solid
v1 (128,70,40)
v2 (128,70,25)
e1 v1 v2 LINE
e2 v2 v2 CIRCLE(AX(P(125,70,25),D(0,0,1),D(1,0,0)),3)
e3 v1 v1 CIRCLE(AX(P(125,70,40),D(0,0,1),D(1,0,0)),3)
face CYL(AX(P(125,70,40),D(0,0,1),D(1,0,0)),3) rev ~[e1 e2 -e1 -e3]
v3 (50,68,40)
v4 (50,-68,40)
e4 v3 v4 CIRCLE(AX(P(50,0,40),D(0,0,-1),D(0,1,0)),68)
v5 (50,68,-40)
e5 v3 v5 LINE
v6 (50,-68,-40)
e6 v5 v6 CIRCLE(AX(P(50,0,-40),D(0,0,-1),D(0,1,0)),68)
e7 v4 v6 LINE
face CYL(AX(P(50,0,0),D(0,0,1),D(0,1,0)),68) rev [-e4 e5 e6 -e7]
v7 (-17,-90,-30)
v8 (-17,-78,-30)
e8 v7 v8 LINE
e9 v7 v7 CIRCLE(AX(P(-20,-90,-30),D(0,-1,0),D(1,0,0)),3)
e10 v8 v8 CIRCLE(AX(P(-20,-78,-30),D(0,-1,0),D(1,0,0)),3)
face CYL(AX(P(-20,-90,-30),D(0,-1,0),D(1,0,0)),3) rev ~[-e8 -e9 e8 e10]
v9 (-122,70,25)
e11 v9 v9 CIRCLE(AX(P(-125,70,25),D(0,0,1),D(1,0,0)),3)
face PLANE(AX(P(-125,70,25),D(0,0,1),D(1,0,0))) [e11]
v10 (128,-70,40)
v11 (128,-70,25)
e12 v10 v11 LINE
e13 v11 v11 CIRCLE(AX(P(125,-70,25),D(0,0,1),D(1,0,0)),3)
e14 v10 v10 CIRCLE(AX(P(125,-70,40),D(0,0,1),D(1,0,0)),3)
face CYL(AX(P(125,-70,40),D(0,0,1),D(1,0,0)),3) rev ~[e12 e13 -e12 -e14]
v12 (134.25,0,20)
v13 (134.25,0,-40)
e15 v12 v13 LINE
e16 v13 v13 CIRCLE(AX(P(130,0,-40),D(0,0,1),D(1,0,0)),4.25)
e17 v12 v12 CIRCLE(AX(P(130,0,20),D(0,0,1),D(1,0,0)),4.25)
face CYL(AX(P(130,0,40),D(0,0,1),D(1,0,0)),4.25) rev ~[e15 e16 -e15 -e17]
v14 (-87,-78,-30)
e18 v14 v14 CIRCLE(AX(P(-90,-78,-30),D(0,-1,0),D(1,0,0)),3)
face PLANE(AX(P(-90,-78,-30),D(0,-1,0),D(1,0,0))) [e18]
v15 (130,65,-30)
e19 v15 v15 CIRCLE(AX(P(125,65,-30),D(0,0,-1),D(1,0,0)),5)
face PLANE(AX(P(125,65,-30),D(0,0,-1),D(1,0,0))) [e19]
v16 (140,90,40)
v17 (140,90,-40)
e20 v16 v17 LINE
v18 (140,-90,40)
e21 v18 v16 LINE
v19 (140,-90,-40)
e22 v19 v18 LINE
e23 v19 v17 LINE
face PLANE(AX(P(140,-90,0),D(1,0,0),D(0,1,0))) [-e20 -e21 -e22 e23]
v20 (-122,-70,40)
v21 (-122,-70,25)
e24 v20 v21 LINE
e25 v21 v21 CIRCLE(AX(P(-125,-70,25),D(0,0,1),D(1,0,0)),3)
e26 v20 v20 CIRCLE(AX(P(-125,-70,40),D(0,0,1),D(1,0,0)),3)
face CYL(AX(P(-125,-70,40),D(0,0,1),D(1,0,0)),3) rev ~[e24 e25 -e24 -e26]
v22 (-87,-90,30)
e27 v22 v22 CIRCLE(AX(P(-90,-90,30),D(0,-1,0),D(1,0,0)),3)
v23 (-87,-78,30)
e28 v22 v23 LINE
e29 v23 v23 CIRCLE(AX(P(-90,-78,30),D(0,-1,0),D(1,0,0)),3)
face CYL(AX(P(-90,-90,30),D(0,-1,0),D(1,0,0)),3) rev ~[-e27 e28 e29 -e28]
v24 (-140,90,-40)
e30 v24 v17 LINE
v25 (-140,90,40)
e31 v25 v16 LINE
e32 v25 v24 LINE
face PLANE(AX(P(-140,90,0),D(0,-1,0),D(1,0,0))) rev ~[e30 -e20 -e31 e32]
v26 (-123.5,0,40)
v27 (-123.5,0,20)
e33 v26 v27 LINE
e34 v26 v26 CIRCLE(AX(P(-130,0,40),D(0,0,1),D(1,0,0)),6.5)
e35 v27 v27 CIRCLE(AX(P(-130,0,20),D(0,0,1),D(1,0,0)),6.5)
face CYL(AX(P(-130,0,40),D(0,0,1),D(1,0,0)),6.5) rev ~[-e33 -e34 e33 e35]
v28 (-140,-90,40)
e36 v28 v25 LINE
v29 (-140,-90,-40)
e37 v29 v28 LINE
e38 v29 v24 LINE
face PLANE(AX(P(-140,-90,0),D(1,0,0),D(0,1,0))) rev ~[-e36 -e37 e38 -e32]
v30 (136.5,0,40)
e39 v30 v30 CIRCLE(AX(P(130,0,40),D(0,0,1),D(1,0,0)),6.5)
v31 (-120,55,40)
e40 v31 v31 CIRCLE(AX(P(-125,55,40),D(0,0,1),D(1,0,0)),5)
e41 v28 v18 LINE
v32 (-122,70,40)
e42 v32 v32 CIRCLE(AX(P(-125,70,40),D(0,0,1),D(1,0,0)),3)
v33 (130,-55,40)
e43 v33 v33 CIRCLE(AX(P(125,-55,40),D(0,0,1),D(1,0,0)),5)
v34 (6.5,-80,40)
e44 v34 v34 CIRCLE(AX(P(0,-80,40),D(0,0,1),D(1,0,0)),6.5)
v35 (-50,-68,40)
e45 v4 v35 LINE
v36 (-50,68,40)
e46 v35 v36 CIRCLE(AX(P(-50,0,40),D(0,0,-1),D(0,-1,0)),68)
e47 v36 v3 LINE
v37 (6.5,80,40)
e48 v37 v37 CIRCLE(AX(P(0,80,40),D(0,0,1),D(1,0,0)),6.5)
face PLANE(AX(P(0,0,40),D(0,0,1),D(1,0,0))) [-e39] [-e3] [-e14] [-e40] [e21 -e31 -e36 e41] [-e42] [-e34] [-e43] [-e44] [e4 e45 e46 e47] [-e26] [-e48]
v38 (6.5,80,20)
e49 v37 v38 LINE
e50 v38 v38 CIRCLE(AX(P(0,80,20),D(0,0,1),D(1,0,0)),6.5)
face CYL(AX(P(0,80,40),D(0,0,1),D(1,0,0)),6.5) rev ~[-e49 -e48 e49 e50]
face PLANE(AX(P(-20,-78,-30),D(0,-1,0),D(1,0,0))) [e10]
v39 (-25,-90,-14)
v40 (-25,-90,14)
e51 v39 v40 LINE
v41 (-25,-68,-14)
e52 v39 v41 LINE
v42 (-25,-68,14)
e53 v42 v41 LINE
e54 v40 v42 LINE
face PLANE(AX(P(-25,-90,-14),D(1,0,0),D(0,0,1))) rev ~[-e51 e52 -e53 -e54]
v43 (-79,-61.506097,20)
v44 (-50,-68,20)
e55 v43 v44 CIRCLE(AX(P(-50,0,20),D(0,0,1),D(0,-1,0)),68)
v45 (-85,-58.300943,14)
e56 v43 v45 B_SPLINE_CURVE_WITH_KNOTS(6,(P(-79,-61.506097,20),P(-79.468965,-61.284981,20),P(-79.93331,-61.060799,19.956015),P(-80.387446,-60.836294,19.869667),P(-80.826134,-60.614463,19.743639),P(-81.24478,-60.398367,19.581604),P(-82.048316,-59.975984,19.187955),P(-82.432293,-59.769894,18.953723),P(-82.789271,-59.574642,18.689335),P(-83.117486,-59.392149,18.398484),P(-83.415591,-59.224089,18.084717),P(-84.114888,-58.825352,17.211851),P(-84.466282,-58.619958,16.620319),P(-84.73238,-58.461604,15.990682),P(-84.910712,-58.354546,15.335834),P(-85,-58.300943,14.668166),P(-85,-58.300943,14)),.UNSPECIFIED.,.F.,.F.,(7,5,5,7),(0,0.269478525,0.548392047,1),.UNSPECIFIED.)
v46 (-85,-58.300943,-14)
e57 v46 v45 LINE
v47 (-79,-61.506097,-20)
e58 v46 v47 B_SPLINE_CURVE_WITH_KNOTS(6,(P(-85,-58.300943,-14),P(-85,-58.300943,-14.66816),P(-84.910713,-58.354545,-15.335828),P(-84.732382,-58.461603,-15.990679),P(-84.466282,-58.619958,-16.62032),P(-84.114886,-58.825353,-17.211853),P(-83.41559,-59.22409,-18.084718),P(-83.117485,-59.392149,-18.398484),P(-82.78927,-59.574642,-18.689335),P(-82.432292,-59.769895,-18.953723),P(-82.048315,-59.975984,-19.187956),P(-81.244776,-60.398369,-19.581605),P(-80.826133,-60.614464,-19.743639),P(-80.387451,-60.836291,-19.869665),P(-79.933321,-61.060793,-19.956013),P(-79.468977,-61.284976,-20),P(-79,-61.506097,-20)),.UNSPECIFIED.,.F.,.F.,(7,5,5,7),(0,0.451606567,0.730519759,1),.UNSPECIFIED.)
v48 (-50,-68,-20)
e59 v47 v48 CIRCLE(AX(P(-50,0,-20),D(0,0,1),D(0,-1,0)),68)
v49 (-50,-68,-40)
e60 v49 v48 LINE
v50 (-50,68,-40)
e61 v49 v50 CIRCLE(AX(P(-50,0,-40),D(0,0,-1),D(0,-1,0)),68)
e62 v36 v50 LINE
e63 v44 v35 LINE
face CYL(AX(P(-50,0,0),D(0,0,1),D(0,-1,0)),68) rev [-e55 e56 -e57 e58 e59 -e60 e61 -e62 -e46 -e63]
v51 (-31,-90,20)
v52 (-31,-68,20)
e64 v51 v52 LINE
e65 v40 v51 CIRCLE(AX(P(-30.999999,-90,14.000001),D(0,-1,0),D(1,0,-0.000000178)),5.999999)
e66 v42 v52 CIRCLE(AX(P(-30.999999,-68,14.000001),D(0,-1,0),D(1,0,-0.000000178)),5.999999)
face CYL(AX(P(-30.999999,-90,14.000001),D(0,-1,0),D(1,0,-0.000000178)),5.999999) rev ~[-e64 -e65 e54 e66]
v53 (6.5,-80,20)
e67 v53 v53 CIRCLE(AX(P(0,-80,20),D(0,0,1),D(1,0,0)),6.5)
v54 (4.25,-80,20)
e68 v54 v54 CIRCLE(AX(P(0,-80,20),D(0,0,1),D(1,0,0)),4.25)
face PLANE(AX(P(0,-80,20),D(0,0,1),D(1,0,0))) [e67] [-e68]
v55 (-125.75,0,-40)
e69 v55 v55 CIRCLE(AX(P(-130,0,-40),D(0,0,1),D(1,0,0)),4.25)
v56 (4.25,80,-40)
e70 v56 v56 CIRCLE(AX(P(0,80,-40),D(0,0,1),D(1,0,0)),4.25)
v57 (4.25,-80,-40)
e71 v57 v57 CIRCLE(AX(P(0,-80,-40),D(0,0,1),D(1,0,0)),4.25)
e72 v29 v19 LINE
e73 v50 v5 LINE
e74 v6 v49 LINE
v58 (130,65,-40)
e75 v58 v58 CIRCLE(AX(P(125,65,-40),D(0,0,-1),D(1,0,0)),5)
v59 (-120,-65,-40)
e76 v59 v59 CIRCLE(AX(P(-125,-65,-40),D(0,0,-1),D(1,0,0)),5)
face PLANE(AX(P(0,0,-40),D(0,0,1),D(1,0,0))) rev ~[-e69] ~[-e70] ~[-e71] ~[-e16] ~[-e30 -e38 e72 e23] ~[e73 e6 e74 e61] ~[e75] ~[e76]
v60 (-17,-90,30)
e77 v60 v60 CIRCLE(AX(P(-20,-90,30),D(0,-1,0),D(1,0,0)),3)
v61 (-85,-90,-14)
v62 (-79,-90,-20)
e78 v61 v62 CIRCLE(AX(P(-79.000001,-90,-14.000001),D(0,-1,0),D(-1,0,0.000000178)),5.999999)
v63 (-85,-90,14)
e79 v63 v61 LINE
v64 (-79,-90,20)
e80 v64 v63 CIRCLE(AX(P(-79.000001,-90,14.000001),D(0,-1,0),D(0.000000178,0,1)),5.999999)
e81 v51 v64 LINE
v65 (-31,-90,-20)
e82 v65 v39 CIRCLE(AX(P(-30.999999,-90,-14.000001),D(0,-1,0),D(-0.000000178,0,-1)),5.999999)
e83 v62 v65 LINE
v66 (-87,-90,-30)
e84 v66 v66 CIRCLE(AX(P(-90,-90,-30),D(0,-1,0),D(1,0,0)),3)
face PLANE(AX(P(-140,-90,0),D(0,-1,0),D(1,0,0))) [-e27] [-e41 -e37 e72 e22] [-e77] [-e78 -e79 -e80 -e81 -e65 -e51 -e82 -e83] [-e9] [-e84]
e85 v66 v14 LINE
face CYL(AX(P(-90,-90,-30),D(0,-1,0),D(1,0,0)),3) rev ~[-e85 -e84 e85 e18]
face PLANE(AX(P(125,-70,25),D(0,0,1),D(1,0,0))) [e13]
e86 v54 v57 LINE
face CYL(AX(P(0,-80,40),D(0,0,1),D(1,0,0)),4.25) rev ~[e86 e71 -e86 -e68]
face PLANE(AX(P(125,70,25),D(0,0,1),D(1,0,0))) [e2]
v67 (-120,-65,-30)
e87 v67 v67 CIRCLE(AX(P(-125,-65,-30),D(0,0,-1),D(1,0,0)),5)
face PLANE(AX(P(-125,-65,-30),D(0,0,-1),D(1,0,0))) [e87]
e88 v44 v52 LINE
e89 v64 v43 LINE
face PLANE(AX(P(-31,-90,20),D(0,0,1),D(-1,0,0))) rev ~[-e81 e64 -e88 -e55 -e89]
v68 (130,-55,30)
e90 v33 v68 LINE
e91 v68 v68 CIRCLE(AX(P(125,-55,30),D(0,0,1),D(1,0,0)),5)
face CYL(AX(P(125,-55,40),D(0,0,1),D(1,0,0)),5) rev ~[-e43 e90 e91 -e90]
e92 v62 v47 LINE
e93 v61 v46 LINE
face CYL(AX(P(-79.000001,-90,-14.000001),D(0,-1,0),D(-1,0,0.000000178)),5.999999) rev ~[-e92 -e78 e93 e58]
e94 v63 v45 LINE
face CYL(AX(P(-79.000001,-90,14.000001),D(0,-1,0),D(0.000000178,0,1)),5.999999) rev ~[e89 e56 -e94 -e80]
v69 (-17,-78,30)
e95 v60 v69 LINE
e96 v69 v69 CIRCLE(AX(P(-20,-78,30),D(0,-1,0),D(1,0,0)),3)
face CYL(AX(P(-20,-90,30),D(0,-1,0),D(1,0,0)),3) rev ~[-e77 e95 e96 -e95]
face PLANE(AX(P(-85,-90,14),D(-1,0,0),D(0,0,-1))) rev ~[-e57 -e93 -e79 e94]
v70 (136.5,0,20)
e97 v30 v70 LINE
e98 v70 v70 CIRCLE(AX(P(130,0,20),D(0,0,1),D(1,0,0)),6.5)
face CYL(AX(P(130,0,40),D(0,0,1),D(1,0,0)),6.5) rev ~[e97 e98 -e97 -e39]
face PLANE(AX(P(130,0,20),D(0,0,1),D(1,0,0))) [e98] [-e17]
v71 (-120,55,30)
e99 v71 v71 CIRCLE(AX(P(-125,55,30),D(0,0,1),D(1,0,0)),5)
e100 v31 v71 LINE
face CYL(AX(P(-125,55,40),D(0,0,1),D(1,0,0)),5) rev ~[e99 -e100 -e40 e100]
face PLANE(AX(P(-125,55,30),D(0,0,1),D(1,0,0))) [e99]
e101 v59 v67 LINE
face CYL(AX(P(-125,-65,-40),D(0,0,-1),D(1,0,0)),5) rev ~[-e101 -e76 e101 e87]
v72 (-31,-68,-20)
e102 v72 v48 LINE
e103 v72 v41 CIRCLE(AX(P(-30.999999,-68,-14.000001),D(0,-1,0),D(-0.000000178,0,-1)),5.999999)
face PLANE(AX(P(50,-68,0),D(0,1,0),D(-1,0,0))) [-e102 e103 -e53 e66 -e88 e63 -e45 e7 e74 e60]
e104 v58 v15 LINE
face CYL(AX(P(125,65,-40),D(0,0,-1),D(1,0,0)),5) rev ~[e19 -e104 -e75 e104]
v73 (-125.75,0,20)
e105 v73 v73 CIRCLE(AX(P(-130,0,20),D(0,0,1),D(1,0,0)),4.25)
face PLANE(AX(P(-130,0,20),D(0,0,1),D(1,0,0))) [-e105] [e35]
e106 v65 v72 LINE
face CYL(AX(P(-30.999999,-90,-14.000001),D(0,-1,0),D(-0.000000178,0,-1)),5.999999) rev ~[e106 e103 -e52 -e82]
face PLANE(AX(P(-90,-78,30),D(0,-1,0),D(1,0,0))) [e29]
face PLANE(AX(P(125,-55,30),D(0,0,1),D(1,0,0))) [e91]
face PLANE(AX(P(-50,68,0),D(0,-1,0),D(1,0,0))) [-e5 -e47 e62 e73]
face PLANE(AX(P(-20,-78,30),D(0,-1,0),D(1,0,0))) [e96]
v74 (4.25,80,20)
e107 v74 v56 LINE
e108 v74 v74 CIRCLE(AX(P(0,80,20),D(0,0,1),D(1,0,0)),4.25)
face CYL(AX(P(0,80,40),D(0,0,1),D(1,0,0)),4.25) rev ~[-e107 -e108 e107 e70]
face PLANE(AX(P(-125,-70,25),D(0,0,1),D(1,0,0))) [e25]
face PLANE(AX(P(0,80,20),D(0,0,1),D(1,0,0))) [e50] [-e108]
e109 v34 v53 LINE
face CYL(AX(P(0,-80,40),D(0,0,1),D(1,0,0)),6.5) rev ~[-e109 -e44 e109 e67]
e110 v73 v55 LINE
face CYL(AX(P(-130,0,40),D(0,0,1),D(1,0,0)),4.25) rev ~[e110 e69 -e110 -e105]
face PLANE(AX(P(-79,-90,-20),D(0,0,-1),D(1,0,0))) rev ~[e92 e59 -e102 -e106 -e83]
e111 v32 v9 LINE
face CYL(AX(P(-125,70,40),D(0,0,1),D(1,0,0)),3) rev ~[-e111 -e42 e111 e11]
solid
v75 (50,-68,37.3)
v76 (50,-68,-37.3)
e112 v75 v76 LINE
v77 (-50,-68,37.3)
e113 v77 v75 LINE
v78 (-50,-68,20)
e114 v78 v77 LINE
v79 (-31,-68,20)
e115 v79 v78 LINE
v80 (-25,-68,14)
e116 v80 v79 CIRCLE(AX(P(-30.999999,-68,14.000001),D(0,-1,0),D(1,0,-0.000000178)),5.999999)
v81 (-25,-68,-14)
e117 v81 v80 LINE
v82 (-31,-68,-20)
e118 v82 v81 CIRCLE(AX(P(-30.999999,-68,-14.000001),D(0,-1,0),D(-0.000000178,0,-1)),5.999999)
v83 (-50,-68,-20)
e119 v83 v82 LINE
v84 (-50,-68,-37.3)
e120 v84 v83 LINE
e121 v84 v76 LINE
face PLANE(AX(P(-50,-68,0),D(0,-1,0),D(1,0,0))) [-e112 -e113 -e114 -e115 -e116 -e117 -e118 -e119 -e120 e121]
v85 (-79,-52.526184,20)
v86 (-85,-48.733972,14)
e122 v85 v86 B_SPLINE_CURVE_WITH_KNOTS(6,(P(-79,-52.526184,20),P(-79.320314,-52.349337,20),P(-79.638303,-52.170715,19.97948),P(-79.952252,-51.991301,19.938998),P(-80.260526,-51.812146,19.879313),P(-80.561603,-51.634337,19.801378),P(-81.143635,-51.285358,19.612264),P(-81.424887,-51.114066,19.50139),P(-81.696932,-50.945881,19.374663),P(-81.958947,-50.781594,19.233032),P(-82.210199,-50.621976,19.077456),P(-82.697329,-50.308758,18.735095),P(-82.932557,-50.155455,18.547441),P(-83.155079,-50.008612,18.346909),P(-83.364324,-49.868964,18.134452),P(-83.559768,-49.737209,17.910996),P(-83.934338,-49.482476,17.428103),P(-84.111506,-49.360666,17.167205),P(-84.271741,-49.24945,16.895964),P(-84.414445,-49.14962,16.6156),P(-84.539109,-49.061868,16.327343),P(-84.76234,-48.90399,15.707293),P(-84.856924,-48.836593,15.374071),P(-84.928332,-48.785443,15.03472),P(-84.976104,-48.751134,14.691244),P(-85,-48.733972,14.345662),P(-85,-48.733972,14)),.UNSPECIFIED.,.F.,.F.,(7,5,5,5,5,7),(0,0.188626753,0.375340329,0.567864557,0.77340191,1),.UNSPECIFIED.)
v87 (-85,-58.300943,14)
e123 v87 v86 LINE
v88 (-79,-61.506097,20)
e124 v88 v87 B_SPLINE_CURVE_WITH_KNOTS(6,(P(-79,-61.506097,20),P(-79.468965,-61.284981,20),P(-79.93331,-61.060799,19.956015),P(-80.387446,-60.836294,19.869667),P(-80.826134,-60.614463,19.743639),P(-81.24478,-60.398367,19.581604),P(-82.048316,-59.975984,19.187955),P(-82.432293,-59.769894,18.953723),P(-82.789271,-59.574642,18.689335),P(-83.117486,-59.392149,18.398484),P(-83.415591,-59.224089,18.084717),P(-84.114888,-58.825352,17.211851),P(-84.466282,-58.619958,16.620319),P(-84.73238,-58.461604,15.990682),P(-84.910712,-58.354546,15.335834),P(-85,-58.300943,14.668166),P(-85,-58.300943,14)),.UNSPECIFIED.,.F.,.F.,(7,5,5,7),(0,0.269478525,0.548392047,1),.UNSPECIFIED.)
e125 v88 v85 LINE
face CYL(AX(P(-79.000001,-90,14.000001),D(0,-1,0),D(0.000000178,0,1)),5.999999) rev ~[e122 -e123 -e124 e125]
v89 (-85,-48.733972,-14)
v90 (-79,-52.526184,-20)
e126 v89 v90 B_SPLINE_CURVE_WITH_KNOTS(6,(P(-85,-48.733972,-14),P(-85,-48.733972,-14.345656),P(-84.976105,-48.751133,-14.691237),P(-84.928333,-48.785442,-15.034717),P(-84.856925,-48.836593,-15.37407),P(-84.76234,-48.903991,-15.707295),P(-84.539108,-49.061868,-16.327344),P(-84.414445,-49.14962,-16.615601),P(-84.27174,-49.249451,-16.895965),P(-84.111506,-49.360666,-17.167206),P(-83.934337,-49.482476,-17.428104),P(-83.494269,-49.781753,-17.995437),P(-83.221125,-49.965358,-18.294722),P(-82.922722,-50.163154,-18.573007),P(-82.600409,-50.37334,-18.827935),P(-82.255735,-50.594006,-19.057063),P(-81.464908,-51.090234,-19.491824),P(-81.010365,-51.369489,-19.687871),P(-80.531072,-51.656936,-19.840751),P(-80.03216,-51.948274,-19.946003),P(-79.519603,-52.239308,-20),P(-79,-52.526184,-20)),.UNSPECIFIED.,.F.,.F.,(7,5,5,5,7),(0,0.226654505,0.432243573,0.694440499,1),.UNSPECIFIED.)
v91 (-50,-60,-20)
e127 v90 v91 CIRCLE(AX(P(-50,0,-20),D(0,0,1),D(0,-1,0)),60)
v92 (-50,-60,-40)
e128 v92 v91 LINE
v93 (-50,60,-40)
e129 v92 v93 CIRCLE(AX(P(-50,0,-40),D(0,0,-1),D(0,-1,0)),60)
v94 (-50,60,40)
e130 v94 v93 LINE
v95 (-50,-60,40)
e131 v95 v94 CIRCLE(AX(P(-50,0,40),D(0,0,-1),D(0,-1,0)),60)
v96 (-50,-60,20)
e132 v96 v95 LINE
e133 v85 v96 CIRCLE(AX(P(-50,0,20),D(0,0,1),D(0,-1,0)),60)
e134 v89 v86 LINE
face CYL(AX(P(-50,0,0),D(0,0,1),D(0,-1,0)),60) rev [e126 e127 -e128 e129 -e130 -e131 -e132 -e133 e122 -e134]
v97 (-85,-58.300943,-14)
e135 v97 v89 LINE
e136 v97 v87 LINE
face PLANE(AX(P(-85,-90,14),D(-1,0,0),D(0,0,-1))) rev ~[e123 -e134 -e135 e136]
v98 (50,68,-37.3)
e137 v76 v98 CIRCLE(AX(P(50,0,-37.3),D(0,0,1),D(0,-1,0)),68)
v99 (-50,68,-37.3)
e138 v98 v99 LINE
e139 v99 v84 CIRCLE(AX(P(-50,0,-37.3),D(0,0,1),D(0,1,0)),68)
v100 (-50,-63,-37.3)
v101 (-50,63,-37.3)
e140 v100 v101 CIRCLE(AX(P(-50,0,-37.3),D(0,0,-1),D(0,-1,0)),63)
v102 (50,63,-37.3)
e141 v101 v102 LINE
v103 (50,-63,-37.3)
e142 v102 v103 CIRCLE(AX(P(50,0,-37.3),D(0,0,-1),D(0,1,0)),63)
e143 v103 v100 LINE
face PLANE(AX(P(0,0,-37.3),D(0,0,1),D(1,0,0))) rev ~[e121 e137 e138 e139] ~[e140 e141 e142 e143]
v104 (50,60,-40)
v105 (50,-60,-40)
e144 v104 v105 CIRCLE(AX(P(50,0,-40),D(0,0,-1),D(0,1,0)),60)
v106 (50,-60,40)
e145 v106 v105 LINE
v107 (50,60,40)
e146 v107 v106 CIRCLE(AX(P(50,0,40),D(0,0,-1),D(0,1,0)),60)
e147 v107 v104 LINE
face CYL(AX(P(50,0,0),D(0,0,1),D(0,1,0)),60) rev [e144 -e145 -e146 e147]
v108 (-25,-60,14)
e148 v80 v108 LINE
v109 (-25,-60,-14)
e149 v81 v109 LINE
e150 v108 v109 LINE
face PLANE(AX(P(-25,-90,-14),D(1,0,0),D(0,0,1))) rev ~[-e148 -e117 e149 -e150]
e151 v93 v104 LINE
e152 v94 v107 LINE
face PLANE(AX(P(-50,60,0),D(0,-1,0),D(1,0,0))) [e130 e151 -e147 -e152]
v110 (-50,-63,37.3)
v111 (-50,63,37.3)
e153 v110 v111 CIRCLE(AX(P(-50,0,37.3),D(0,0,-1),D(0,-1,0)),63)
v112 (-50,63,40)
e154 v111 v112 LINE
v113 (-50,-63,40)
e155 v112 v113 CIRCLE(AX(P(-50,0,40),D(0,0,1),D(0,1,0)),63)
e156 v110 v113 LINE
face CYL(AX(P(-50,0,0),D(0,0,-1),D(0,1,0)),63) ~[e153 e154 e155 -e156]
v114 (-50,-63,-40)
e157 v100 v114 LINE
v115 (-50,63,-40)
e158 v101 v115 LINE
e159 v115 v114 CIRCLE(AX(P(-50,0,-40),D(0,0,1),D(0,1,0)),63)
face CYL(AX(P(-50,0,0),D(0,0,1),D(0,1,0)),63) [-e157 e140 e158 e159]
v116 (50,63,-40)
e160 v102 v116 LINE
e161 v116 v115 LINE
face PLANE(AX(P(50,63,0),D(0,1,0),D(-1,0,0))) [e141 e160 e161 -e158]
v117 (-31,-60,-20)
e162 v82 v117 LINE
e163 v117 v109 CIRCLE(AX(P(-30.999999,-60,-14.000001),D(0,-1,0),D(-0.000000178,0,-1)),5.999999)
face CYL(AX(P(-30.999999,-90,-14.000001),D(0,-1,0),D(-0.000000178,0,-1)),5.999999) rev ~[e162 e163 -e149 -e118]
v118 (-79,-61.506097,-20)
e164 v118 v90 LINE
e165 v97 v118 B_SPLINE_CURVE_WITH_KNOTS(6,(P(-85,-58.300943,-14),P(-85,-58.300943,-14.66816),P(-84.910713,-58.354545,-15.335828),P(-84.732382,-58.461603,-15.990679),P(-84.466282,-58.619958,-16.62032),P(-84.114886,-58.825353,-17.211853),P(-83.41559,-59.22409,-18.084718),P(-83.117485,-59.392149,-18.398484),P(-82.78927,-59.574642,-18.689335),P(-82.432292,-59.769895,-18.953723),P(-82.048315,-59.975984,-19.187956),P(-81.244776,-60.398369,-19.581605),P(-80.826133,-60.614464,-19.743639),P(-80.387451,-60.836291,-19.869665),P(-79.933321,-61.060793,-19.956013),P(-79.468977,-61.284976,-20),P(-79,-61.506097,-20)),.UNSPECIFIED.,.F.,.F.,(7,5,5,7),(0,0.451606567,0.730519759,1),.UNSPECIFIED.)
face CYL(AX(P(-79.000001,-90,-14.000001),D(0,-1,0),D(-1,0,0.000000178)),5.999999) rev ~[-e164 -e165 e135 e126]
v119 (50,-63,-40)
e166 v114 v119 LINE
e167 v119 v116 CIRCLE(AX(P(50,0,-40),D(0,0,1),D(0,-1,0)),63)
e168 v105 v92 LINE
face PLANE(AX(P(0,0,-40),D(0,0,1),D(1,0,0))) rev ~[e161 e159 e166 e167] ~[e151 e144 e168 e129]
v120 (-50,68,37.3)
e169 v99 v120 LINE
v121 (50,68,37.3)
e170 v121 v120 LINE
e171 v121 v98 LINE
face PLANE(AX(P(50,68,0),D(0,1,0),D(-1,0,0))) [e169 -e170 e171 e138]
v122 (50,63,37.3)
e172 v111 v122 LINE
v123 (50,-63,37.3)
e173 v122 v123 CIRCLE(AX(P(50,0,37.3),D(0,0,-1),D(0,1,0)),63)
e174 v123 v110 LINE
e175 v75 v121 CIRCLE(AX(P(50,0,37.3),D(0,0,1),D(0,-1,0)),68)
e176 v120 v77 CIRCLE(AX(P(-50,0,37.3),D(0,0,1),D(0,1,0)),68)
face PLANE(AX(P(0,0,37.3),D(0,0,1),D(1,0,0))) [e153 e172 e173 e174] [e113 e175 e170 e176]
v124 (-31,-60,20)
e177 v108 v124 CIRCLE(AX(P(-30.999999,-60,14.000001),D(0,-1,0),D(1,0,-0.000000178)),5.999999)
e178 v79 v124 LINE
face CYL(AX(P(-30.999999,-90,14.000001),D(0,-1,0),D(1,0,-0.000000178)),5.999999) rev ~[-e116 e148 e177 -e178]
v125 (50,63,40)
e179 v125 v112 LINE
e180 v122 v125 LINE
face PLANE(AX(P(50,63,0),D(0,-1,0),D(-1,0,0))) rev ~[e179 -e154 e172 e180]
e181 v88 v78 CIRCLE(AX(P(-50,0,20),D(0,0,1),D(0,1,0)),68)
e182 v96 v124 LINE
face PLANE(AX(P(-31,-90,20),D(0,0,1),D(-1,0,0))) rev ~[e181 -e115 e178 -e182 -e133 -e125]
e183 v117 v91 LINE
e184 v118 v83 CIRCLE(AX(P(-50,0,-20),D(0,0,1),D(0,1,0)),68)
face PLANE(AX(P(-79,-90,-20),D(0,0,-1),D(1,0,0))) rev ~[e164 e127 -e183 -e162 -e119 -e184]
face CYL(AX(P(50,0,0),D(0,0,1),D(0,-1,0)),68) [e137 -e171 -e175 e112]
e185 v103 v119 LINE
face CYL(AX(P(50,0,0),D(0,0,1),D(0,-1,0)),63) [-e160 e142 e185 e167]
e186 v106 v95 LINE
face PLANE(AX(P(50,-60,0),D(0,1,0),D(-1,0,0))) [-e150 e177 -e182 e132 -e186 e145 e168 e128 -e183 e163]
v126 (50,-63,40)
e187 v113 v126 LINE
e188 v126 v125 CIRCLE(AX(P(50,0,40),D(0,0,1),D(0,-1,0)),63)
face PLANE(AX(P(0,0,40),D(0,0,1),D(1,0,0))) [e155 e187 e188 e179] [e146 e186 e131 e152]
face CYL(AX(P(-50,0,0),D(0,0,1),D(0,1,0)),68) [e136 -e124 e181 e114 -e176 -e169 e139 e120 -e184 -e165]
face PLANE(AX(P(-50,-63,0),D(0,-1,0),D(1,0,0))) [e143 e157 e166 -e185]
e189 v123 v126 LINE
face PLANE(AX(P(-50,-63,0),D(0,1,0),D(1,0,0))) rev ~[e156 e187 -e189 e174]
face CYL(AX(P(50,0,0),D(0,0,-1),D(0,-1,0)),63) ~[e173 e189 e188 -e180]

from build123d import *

# Parameters (mm, degrees)
F0_W          = 280
F0_H          = 180
F1_DEPTH      = 40
F1_DEPTH_BACK = 40
F2_DEPTH      = 37.3
F2_DEPTH_BACK = 37.3
F3_DEPTH      = 40
F3_DEPTH_BACK = 40
F4_R          = 5
F5_DEPTH      = 10
F4_R_2        = 4.25
F6_DEPTH      = 80
F4_R_3        = 3
F7_DEPTH      = 15
F4_R_4        = 6.5
F8_DEPTH      = 20
F9_R          = 3
F10_DEPTH     = 12
F11_DEPTH     = 45
F12_R         = 5
F13_DEPTH     = 10


with BuildPart() as f1:
    # F0 (on Top) → F1 (new body, two sides)
    with BuildSketch(Plane.XY) as f1_sk:
        Rectangle(F0_W, F0_H)
        with BuildLine():
            ThreePointArc((-50, -68), (-118, 0), (-50, 68))
            Line((-50, 68), (50, 68))
            ThreePointArc((50, 68), (118, 0), (50, -68))
            Line((50, -68), (-50, -68))
        make_face(mode=Mode.SUBTRACT)
    extrude(amount=F1_DEPTH)
    extrude(f1_sk.sketch, amount=-F1_DEPTH_BACK)

    # F4 (on face) → F5 (cut)
    with BuildSketch(Plane.XY.offset(40)):
        with Locations((-125, 55)):
            Circle(F4_R)
        with Locations((125, -55)):
            Circle(F4_R)
    extrude(amount=-F5_DEPTH, mode=Mode.SUBTRACT)

    # F4 (on face) → F6 (cut)
    with BuildSketch(Plane.XY.offset(40)):
        with Locations((0, 80)):
            Circle(F4_R_2)
        with Locations((130, 0)):
            Circle(F4_R_2)
        with Locations((0, -80)):
            Circle(F4_R_2)
        with Locations((-130, 0)):
            Circle(F4_R_2)
    extrude(amount=-F6_DEPTH, mode=Mode.SUBTRACT)

    # F4 (on face) → F7 (cut)
    with BuildSketch(Plane.XY.offset(40)):
        with Locations((-125, 70)):
            Circle(F4_R_3)
        with Locations((125, 70)):
            Circle(F4_R_3)
        with Locations((125, -70)):
            Circle(F4_R_3)
        with Locations((-125, -70)):
            Circle(F4_R_3)
    extrude(amount=-F7_DEPTH, mode=Mode.SUBTRACT)

    # F4 (on face) → F8 (cut)
    with BuildSketch(Plane.XY.offset(40)):
        with Locations((0, 80)):
            Circle(F4_R_4)
        with Locations((0, 80)):
            Circle(F4_R_2, mode=Mode.SUBTRACT)
        with Locations((130, 0)):
            Circle(F4_R_4)
        with Locations((130, 0)):
            Circle(F4_R_2, mode=Mode.SUBTRACT)
        with Locations((0, -80)):
            Circle(F4_R_4)
        with Locations((0, -80)):
            Circle(F4_R_2, mode=Mode.SUBTRACT)
        with Locations((-130, 0)):
            Circle(F4_R_4)
        with Locations((-130, 0)):
            Circle(F4_R_2, mode=Mode.SUBTRACT)
    extrude(amount=-F8_DEPTH, mode=Mode.SUBTRACT)

    # F9 (on face) → F10 (cut)
    with BuildSketch(Plane.XZ.offset(90)):
        with Locations((-90, 30)):
            Circle(F9_R)
        with Locations((-20, 30)):
            Circle(F9_R)
        with Locations((-20, -30)):
            Circle(F9_R)
        with Locations((-90, -30)):
            Circle(F9_R)
    extrude(amount=-F10_DEPTH, mode=Mode.SUBTRACT)


with BuildPart() as f2:
    # F0 (on Top) → F2 (new body, two sides)
    with BuildSketch(Plane.XY) as f2_sk:
        with BuildLine():
            Line((50, 68), (-50, 68))
            ThreePointArc((-50, 68), (-118, 0), (-50, -68))
            Line((-50, -68), (50, -68))
            ThreePointArc((50, -68), (118, 0), (50, 68))
        make_face()
        with BuildLine():
            ThreePointArc((-50, -63), (-113, 0), (-50, 63))
            Line((-50, 63), (50, 63))
            ThreePointArc((50, 63), (113, 0), (50, -63))
            Line((50, -63), (-50, -63))
        make_face(mode=Mode.SUBTRACT)
    extrude(amount=F2_DEPTH)
    extrude(f2_sk.sketch, amount=-F2_DEPTH_BACK)

    # F0 (on Top) → F3 (join, two sides)
    with BuildSketch(Plane.XY) as f3_sk:
        with BuildLine():
            Line((50, 63), (-50, 63))
            ThreePointArc((-50, 63), (-113, 0), (-50, -63))
            Line((-50, -63), (50, -63))
            ThreePointArc((50, -63), (113, 0), (50, 63))
        make_face()
        with BuildLine():
            ThreePointArc((-50, -60), (-110, 0), (-50, 60))
            Line((-50, 60), (50, 60))
            ThreePointArc((50, 60), (110, 0), (50, -60))
            Line((50, -60), (-50, -60))
        make_face(mode=Mode.SUBTRACT)
    extrude(amount=F3_DEPTH)
    extrude(f3_sk.sketch, amount=-F3_DEPTH_BACK)


with BuildPart() as f11_tool:
    # F9 (on face) → F11 (new body)
    with BuildSketch(Plane.XZ.offset(90)):
        with BuildLine():
            Line((-31, 20), (-79, 20))
            ThreePointArc((-79, 20), (-83.242641, 18.242641), (-85, 14))
            Line((-85, 14), (-85, -14))
            ThreePointArc((-85, -14), (-83.242641, -18.242641), (-79, -20))
            Line((-79, -20), (-31, -20))
            ThreePointArc((-31, -20), (-26.757359, -18.242641), (-25, -14))
            Line((-25, -14), (-25, 14))
            ThreePointArc((-25, 14), (-26.757359, 18.242641), (-31, 20))
        make_face()
    extrude(amount=-F11_DEPTH)


with BuildPart() as f1_1:
    add(f1.part)

    # F11: cut by f11_tool
    add(f11_tool.part, mode=Mode.SUBTRACT)

    # F12 (on face) → F13 (cut)
    with BuildSketch(Plane(origin=(0, 0, -40), x_dir=(1, 0, 0), z_dir=(0, 0, -1))):
        with Locations((-125, 65)):
            Circle(F12_R)
        with Locations((125, -65)):
            Circle(F12_R)
    extrude(amount=-F13_DEPTH, mode=Mode.SUBTRACT)


with BuildPart() as f2_1:
    add(f2.part)

    # F11: cut by f11_tool
    add(f11_tool.part, mode=Mode.SUBTRACT)


solid = Compound([f1_1.part, f2_1.part])
